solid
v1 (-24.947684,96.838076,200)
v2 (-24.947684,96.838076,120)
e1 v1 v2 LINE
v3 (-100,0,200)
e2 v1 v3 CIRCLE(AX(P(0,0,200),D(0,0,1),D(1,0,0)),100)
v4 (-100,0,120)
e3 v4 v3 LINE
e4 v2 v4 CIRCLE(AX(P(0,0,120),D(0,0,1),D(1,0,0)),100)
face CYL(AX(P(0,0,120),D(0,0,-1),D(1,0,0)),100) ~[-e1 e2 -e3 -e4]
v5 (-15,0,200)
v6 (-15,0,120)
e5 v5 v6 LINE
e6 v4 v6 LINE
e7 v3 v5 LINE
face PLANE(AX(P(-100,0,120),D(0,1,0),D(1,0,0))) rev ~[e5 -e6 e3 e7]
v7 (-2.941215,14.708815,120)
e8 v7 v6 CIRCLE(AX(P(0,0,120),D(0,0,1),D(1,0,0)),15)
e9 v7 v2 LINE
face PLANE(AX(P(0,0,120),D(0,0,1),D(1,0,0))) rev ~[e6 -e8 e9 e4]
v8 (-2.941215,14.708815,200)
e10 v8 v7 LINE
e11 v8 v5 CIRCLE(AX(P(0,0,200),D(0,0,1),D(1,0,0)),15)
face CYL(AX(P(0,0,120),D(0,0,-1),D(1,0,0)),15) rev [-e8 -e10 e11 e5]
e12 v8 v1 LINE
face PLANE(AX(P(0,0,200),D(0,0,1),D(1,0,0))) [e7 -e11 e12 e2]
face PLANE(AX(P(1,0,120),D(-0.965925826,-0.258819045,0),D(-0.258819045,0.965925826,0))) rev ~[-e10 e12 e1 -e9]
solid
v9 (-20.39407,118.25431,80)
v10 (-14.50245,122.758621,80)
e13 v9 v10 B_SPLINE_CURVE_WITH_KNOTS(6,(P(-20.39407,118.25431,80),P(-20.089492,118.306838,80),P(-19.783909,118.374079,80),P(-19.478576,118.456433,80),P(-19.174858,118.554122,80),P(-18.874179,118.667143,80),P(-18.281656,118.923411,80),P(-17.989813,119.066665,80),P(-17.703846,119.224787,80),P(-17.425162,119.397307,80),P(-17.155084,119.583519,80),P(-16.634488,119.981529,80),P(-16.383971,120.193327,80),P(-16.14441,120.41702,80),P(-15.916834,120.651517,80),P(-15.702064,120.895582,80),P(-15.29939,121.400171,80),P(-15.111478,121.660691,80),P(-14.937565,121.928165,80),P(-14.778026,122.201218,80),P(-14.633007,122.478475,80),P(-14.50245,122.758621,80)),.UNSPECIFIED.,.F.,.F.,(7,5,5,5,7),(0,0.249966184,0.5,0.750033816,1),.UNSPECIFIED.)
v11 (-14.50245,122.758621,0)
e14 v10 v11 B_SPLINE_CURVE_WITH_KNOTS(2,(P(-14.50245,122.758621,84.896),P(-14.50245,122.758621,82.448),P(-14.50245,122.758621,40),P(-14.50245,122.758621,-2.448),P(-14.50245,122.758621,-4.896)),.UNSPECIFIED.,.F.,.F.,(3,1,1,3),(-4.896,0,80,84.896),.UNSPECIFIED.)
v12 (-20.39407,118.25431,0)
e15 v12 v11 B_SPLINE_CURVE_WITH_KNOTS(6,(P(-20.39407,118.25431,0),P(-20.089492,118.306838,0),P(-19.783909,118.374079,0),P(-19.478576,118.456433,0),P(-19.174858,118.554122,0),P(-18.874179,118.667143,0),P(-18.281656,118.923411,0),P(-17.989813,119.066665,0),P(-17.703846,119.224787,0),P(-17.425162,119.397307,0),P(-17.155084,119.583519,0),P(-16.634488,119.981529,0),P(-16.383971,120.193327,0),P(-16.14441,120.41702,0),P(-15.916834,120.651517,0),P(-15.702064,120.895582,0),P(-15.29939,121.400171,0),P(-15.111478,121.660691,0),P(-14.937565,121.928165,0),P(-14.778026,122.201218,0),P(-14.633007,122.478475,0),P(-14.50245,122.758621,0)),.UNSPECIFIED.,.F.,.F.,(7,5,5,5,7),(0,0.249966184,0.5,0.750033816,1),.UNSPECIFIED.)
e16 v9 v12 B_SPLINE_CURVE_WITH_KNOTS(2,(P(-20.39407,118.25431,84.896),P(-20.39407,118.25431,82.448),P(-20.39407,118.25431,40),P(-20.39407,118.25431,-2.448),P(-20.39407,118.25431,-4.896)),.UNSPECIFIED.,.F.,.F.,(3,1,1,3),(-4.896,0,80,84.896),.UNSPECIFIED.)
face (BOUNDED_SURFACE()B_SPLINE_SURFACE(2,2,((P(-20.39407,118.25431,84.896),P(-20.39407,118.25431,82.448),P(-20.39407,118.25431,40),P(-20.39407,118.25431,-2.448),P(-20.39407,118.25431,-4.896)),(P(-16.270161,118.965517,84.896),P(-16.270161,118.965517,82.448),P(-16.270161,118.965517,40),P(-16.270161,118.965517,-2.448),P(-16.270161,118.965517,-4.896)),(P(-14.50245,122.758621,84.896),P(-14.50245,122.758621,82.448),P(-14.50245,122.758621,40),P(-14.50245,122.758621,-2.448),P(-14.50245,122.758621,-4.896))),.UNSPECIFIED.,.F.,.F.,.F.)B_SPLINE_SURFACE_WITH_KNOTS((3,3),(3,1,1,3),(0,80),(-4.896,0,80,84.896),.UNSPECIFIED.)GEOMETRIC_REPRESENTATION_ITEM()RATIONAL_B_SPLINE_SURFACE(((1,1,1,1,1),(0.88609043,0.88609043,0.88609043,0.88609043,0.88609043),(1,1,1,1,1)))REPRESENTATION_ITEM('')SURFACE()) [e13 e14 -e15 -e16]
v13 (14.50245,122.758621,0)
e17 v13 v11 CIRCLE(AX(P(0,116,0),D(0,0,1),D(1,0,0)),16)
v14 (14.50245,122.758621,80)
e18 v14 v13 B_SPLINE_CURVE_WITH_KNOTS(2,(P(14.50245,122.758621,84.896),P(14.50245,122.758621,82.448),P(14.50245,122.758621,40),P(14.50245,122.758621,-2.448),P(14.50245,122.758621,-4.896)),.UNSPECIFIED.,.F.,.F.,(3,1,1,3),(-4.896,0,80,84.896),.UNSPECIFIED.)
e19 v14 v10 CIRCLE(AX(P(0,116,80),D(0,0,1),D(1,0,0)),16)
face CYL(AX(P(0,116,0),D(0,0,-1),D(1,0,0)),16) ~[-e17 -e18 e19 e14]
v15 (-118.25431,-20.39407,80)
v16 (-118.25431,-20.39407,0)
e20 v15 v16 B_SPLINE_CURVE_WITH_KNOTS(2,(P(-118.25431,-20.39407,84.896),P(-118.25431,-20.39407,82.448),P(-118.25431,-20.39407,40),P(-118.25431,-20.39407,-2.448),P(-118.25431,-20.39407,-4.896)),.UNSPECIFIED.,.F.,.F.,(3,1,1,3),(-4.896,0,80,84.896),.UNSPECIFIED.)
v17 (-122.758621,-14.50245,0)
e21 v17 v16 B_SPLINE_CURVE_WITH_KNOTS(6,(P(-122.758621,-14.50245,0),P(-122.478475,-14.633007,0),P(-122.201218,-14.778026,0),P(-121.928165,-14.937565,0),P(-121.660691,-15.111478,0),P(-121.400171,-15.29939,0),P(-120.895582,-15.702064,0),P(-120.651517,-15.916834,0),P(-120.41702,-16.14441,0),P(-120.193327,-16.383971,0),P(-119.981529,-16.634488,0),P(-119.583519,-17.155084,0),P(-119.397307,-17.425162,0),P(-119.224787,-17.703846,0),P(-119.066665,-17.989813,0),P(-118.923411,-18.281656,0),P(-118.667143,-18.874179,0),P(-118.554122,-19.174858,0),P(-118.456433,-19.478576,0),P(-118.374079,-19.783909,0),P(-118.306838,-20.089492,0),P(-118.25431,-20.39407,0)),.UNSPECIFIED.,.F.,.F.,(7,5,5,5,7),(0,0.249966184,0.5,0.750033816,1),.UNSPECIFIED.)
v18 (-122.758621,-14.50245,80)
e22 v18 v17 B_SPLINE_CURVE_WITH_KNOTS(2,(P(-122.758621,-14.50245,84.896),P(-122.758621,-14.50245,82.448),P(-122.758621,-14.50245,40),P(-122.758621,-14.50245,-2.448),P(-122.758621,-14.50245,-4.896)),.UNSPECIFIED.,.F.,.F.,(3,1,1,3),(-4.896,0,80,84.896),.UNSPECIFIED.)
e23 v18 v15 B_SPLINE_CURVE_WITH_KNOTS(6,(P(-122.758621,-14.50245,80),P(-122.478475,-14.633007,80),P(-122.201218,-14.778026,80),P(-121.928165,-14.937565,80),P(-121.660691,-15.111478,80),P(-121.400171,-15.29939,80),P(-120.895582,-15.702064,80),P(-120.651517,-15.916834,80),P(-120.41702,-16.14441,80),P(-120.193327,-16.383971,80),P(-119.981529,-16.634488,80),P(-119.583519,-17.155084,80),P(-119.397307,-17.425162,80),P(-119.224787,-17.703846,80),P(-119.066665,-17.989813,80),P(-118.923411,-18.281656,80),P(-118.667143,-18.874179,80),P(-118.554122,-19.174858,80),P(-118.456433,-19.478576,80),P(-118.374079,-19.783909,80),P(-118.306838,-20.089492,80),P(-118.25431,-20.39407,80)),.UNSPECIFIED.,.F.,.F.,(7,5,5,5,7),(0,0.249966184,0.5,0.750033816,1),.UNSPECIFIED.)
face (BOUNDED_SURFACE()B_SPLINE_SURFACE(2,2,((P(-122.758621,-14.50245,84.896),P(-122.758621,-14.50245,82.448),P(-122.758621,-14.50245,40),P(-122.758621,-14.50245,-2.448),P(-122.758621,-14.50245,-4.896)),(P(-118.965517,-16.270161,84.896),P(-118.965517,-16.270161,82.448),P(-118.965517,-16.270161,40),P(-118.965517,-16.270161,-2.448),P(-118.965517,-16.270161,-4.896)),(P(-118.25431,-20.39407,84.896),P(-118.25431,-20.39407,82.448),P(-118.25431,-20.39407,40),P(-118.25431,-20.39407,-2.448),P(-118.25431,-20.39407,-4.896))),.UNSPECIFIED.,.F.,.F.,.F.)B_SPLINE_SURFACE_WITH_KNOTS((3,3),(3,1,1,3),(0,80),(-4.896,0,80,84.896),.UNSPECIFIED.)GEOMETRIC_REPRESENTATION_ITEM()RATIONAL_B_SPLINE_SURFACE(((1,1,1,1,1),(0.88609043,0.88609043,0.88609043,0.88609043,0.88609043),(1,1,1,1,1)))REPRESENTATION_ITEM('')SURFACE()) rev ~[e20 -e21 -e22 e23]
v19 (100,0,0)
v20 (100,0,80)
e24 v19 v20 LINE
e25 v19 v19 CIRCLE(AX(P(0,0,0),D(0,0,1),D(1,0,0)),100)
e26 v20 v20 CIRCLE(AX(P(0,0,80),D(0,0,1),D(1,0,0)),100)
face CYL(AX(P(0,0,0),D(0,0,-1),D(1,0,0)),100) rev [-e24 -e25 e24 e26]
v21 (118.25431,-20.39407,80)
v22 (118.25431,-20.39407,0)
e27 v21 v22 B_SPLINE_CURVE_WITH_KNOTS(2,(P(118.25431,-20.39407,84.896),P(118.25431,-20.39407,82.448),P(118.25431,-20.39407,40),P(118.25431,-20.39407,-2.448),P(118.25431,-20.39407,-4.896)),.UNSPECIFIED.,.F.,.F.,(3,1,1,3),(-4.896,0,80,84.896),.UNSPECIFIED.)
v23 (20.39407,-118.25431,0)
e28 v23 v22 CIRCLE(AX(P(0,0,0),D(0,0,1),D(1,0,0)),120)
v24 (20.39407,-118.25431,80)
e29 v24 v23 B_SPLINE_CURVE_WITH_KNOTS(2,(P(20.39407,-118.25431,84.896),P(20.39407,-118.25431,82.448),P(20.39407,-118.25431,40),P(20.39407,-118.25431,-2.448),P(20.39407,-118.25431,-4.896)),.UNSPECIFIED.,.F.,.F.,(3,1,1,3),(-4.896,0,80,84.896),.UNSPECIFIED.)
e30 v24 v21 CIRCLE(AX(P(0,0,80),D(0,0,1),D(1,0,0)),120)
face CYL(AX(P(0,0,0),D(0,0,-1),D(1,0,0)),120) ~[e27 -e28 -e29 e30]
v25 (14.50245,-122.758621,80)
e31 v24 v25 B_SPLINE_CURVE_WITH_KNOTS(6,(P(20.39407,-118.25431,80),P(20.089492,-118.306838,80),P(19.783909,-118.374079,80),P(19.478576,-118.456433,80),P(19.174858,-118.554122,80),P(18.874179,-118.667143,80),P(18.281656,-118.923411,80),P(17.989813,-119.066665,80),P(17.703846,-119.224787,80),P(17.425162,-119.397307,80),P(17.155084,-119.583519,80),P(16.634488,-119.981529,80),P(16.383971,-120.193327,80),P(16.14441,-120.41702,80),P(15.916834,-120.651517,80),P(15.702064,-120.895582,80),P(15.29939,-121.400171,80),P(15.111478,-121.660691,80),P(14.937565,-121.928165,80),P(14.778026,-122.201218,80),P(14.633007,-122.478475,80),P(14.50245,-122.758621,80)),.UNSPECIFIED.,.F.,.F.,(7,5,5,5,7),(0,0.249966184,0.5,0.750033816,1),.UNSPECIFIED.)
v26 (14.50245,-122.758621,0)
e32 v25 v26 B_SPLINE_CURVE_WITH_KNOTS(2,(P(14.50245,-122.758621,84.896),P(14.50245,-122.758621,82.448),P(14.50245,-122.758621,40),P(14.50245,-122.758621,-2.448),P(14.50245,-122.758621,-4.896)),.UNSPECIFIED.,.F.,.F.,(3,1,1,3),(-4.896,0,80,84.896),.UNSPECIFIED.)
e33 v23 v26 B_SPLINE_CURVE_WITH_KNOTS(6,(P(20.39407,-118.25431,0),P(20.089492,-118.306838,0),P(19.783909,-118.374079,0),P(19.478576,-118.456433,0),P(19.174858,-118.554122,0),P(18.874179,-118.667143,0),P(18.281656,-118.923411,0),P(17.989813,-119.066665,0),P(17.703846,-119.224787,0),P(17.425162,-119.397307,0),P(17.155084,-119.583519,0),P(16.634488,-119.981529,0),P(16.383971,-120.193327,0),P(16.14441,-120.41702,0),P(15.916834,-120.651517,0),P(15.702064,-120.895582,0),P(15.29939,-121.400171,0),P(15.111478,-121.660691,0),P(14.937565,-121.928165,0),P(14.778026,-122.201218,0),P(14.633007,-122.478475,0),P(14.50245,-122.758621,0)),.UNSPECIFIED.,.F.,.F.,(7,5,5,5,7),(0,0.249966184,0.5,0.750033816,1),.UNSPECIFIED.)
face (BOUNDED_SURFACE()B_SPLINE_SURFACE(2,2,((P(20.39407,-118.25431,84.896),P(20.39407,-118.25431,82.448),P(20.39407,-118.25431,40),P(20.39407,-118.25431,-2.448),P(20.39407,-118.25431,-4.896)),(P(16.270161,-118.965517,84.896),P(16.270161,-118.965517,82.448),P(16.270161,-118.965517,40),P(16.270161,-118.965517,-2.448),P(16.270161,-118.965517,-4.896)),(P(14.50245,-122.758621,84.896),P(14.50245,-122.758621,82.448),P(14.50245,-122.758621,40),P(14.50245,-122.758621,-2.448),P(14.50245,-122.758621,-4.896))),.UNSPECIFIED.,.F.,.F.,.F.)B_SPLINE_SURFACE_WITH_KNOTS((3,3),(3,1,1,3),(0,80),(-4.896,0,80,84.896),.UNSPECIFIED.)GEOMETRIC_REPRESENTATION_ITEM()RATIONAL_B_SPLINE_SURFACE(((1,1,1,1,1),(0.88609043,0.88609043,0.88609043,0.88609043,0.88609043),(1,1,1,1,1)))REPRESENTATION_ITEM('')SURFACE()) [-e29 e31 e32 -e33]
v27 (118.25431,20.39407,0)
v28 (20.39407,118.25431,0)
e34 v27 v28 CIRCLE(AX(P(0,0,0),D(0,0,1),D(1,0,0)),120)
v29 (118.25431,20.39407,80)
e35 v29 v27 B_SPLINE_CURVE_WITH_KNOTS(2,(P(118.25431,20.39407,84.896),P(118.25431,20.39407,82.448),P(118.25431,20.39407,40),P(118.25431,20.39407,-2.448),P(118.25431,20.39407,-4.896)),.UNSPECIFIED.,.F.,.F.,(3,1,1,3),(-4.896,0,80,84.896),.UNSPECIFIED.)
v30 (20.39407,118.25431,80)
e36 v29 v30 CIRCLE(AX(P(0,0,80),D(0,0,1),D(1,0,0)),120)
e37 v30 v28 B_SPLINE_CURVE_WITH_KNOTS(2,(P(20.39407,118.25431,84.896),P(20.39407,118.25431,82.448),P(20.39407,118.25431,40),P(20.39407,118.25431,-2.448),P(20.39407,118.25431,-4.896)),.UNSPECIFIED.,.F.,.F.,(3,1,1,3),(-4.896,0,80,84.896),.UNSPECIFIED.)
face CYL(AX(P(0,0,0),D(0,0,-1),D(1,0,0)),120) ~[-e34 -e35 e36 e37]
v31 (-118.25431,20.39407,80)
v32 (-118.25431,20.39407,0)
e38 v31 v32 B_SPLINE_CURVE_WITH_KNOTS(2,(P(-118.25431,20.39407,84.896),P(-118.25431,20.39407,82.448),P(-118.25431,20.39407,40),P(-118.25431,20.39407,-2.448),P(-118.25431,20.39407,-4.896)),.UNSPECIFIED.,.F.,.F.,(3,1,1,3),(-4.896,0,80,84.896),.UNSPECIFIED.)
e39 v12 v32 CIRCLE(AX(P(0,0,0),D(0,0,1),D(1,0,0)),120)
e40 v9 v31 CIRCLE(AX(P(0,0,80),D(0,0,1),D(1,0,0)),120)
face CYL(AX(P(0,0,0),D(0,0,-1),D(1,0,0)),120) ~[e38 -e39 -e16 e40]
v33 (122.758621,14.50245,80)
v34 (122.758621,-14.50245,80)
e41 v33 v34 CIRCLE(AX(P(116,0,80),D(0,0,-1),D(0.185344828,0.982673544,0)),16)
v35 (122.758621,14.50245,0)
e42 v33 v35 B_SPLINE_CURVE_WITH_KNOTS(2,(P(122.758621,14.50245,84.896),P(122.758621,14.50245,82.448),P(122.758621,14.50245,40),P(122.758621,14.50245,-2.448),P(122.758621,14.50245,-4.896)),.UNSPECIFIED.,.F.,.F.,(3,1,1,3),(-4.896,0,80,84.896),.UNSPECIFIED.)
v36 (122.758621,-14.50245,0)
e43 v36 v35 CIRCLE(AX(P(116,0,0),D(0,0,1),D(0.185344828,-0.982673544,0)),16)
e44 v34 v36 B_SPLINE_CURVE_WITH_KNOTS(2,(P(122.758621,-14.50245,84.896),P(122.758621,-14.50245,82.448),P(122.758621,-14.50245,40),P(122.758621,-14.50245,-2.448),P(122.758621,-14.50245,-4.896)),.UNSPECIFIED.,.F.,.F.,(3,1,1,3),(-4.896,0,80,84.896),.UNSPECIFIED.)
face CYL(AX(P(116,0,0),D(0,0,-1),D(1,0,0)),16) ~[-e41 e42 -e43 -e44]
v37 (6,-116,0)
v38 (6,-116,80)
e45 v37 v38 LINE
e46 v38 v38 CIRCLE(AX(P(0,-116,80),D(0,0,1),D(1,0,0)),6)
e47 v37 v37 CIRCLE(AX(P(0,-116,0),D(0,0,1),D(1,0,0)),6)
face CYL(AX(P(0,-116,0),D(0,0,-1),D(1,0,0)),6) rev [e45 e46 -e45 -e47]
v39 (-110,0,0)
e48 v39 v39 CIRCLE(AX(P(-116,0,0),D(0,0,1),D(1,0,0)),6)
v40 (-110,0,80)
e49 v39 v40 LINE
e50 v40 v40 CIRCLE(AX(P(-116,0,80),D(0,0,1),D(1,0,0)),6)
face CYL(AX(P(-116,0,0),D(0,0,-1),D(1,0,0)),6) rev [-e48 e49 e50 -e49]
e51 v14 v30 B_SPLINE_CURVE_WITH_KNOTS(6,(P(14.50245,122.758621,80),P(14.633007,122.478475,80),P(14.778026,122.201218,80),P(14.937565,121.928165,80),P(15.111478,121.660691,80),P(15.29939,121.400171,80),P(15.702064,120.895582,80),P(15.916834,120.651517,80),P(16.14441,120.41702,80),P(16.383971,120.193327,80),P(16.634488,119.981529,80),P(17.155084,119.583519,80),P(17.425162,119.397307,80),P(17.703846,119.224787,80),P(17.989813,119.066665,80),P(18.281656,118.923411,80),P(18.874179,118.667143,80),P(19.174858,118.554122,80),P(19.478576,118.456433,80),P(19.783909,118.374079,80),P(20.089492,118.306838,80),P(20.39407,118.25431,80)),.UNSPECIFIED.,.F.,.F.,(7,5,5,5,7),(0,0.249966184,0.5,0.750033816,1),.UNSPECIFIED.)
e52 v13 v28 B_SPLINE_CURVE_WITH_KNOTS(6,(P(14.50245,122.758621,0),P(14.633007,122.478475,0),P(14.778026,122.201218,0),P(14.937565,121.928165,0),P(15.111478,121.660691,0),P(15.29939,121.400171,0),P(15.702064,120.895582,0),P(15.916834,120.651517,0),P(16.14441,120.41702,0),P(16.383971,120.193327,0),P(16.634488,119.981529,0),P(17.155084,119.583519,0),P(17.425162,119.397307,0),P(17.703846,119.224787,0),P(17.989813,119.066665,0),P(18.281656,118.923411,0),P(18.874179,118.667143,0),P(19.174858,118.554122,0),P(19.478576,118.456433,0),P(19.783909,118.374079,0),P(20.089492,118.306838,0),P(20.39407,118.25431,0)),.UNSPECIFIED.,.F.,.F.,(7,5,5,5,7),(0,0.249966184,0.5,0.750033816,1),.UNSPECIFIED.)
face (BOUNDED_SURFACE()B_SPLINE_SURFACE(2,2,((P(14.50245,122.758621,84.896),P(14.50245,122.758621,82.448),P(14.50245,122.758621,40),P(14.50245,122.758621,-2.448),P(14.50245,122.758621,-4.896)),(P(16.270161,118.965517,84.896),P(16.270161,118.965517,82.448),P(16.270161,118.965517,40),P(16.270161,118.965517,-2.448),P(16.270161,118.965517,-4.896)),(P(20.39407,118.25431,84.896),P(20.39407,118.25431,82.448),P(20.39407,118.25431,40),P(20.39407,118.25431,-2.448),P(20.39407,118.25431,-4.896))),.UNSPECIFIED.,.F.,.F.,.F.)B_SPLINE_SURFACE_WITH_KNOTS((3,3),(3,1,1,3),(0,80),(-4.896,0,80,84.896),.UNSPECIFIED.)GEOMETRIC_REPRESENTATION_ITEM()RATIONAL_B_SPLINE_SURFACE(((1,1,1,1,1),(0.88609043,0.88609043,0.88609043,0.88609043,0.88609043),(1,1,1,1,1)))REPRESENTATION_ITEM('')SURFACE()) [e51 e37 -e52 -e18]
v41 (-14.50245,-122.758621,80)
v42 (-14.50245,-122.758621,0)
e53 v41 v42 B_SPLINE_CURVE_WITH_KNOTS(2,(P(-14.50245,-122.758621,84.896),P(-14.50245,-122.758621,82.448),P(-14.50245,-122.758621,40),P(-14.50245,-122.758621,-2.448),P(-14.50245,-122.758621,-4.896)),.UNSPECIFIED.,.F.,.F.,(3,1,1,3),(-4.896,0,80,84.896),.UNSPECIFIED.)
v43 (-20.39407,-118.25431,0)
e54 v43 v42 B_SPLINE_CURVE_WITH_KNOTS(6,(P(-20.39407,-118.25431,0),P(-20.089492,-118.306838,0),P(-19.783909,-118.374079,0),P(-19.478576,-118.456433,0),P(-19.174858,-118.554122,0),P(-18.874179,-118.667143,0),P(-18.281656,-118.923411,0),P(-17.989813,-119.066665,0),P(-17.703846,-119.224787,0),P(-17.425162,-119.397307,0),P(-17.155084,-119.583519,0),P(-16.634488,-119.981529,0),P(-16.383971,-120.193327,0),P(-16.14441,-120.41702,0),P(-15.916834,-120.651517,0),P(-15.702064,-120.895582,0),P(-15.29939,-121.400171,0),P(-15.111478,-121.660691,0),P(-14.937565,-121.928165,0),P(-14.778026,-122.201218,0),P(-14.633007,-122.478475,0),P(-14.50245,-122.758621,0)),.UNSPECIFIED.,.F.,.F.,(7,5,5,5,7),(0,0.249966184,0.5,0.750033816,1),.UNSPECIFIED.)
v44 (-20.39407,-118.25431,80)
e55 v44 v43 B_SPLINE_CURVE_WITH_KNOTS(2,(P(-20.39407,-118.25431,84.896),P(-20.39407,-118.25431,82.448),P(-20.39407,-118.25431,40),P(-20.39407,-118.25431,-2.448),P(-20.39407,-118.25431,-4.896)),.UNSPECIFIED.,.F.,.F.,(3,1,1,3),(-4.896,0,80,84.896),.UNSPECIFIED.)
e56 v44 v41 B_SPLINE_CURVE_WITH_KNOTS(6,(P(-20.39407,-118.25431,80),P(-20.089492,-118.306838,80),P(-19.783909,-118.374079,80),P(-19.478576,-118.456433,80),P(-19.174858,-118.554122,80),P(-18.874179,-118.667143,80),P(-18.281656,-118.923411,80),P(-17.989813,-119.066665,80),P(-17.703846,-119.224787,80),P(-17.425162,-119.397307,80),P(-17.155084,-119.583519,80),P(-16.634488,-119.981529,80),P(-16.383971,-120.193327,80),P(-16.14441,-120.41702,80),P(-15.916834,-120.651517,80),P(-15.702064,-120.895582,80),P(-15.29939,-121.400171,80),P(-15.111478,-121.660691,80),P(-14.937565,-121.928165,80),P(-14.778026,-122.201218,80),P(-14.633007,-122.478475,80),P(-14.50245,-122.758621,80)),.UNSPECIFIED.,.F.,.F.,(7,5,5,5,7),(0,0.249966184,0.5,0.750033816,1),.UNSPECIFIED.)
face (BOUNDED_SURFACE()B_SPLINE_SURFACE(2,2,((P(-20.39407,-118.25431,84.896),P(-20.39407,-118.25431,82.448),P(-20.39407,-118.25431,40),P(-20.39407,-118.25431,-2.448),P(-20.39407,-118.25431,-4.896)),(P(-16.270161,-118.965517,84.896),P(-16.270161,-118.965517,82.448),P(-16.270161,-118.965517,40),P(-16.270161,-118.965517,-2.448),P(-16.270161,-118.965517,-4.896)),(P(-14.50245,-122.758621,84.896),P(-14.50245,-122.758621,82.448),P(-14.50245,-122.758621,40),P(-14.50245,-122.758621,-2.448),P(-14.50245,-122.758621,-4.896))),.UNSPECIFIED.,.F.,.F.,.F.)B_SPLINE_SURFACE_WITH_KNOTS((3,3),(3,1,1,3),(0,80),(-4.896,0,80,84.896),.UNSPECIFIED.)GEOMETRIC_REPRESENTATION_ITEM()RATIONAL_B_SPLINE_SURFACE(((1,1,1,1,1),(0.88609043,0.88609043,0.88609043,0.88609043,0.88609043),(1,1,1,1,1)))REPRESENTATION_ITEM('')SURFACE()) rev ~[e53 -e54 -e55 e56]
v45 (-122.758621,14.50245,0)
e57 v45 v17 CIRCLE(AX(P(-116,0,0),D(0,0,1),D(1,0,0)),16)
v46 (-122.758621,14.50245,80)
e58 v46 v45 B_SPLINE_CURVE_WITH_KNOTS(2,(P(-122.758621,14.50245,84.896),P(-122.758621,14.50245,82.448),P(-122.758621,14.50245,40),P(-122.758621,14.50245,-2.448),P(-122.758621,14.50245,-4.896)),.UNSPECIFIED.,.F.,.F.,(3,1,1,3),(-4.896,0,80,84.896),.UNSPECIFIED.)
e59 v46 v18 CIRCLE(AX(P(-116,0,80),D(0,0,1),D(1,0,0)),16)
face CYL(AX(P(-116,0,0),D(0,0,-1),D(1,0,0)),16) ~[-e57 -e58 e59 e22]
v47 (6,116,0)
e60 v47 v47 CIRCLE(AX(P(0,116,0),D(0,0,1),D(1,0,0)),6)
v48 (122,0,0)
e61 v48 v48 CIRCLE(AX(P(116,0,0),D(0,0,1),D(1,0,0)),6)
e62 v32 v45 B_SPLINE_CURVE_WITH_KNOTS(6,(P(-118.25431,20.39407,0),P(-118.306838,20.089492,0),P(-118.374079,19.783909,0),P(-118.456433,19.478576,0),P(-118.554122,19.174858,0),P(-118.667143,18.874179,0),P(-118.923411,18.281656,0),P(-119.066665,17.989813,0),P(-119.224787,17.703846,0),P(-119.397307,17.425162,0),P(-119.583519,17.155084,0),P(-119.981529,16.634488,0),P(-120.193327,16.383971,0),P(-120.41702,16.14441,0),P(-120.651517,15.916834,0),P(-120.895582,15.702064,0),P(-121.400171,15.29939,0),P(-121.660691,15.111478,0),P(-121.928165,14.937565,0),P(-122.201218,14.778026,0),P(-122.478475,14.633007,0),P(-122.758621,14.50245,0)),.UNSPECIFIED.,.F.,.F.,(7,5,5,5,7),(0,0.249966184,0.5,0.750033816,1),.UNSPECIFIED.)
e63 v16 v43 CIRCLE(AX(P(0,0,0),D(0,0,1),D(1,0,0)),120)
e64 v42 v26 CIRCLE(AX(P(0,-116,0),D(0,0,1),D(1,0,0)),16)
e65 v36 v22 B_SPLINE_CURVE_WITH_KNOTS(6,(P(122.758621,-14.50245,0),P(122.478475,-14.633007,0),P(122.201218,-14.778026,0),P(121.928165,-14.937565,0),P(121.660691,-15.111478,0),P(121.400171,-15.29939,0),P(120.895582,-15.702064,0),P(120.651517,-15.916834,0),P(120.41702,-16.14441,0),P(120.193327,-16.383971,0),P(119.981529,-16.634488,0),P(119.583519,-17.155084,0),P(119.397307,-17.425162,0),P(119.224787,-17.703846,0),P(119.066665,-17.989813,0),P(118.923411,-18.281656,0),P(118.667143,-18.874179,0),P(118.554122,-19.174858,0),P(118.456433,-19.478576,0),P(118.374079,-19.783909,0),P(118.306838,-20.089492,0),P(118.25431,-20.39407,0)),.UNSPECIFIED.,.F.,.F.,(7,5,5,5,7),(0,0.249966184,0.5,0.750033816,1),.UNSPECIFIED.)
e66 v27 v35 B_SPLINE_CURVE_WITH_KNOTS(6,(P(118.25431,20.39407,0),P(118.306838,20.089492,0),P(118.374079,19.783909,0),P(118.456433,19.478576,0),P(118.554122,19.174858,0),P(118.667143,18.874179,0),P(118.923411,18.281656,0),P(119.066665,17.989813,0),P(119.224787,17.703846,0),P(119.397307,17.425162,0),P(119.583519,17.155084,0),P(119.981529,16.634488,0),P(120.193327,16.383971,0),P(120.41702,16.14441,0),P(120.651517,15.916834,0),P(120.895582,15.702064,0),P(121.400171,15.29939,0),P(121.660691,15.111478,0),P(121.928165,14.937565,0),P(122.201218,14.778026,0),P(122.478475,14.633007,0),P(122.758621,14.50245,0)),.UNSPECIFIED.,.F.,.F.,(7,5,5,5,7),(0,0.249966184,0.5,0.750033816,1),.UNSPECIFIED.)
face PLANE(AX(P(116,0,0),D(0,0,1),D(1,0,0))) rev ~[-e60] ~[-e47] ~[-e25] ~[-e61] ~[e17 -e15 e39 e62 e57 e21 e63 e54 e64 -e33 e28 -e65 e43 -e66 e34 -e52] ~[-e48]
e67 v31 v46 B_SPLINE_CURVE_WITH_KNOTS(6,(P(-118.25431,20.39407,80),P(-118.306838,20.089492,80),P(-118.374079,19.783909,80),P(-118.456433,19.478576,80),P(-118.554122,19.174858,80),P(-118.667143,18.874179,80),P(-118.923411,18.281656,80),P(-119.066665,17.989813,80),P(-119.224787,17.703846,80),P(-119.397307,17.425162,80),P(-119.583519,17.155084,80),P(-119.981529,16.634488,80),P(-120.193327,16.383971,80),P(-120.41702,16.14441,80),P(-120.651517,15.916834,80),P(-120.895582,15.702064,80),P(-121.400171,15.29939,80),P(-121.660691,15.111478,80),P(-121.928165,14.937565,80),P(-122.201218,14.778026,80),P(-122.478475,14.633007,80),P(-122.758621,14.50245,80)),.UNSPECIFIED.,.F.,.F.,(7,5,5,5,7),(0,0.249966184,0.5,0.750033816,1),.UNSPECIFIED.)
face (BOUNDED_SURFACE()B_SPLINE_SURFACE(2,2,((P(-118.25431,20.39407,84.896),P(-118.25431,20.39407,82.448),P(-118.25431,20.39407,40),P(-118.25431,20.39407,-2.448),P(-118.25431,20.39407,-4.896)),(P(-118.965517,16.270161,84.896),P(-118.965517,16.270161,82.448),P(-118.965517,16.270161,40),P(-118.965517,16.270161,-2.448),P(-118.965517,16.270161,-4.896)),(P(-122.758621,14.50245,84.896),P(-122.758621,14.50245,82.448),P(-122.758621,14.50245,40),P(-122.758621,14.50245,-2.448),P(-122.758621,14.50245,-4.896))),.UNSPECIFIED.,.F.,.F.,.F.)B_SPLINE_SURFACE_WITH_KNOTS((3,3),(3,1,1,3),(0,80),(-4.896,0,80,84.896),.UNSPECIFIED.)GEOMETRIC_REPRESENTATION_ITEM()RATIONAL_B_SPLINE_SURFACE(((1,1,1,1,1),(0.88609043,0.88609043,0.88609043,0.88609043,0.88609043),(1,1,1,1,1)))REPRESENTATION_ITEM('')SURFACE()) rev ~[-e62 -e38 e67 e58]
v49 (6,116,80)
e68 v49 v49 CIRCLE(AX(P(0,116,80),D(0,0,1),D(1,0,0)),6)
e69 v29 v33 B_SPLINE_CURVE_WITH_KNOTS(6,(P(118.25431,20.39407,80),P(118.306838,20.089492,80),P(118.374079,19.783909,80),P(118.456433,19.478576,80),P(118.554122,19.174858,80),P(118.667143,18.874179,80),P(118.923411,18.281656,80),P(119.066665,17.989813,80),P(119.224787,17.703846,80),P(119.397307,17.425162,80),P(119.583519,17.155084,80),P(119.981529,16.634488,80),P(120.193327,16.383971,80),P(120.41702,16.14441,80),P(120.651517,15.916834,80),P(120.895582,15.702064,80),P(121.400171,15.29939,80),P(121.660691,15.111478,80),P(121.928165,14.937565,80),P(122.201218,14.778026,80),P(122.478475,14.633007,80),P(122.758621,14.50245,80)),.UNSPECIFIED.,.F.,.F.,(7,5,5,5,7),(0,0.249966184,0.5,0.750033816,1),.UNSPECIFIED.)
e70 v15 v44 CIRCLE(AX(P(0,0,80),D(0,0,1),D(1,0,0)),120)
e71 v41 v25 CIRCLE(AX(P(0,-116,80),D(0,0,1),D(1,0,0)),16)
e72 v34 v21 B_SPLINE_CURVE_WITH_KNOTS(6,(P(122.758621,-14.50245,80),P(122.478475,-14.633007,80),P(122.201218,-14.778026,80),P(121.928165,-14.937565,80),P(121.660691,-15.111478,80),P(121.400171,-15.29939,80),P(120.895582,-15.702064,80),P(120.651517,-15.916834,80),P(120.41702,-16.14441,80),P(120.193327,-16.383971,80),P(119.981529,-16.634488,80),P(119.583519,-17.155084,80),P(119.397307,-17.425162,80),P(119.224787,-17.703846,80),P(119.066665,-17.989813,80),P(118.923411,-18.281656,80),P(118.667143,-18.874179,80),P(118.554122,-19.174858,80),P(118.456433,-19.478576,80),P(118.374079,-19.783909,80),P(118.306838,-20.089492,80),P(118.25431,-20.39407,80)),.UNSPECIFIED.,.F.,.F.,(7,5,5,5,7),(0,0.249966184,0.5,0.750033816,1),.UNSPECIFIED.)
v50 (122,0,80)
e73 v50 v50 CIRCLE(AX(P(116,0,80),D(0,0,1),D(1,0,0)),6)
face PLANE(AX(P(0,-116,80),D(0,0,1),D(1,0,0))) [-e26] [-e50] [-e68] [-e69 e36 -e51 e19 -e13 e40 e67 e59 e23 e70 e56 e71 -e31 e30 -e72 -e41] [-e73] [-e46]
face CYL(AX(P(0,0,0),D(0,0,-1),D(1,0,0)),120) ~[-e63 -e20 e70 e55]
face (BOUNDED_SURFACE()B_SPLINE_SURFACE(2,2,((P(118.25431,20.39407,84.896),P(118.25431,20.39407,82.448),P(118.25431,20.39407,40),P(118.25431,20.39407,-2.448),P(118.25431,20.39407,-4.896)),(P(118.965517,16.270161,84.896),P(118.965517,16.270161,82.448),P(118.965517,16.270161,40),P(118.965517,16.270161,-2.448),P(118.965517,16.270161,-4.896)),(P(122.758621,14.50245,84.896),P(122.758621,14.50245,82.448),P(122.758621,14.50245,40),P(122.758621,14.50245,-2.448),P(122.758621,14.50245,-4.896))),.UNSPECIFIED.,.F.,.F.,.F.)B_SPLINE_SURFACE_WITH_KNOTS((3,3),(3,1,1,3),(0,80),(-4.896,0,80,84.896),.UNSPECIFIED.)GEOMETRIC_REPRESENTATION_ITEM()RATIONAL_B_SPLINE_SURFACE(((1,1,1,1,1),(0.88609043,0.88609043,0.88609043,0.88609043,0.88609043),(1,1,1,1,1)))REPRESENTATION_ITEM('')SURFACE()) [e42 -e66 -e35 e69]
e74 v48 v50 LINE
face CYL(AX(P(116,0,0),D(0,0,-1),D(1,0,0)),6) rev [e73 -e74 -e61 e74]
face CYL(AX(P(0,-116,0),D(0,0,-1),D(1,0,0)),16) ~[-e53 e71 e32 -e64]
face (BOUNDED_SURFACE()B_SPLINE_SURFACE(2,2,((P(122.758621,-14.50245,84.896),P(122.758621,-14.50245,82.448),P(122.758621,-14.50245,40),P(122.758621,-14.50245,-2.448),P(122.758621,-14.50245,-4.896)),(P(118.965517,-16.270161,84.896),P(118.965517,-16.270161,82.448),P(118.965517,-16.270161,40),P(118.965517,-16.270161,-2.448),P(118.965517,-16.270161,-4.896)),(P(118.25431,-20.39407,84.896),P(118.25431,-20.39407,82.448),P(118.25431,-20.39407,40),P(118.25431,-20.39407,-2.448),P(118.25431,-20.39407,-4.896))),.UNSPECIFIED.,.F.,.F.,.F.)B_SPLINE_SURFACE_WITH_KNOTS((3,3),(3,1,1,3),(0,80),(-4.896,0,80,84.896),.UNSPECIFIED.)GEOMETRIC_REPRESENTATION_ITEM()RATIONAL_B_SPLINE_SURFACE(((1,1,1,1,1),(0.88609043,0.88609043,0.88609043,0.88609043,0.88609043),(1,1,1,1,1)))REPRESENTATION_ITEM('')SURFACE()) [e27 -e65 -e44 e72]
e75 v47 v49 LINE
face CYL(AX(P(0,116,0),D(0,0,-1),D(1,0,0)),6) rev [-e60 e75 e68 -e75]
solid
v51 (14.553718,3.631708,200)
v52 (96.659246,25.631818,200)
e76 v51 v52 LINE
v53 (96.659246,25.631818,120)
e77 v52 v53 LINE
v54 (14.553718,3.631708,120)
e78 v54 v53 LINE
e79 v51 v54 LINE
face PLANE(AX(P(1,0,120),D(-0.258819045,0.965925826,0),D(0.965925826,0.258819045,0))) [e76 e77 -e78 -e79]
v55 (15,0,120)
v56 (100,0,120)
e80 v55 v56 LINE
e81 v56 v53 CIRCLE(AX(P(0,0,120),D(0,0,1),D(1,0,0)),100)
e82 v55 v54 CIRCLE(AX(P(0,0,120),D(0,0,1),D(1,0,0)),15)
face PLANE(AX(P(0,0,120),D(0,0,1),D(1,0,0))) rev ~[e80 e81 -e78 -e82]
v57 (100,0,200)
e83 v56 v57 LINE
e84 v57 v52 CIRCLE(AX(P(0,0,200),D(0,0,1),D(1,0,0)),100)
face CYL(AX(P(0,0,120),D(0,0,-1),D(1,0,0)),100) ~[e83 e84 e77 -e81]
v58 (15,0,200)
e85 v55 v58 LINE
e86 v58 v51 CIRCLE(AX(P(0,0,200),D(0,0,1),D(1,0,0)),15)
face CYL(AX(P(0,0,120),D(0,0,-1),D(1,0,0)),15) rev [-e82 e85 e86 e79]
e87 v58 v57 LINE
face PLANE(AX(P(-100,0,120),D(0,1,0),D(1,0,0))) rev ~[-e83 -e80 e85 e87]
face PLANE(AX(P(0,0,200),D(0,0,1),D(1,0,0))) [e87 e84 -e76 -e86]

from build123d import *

# Parameters (mm, degrees)
CYLINDER006_R       = 6
CYLINDER006_DEPTH   = 80
CYLINDER007_R       = 6
CYLINDER007_DEPTH   = 80
CYLINDER008_R       = 6
CYLINDER008_DEPTH   = 80
CYLINDER009_R       = 6
CYLINDER009_DEPTH   = 80
CYLINDER002_R       = 16
CYLINDER002_DEPTH   = 80
CYLINDER003_R       = 16
CYLINDER003_DEPTH   = 80
CYLINDER004_R       = 16
CYLINDER004_DEPTH   = 80
CYLINDER005_R       = 16
CYLINDER005_DEPTH   = 80
CYLINDER001_R       = 100
CYLINDER001_DEPTH   = 200
CYLINDER_R          = 120
CYLINDER_DEPTH      = 80
FILLET_R            = 8
FILLET001_R         = 8
FILLET002_R         = 8
BOX_W               = 400
BOX_H               = 200
BOX_DEPTH           = 80
BOX_PLACEMENT_ANGLE = 15
BOX001_W            = 200
BOX001_H            = 200
BOX001_DEPTH        = 80
TUBE_R              = 100
TUBE_R_2            = 15
TUBE_DEPTH          = 80


with BuildPart() as walec006:
    # Cylinder006 → Cylinder006 (new body)
    with BuildSketch(Plane(origin=(116, 0, 0), x_dir=(1, 0, 0), z_dir=(0, 0, 1))):
        Circle(CYLINDER006_R)
    extrude(amount=CYLINDER006_DEPTH)


with BuildPart() as walec007:
    # Cylinder007 → Cylinder007 (new body)
    with BuildSketch(Plane(origin=(-116, 0, 0), x_dir=(1, 0, 0), z_dir=(0, 0, 1))):
        Circle(CYLINDER007_R)
    extrude(amount=CYLINDER007_DEPTH)


with BuildPart() as walec008:
    # Cylinder008 → Cylinder008 (new body)
    with BuildSketch(Plane(origin=(0, 116, 0), x_dir=(1, 0, 0), z_dir=(0, 0, 1))):
        Circle(CYLINDER008_R)
    extrude(amount=CYLINDER008_DEPTH)


with BuildPart() as walec009:
    # Cylinder009 → Cylinder009 (new body)
    with BuildSketch(Plane(origin=(0, -116, 0), x_dir=(1, 0, 0), z_dir=(0, 0, 1))):
        Circle(CYLINDER009_R)
    extrude(amount=CYLINDER009_DEPTH)


with BuildPart() as walec002:
    # Cylinder002 → Cylinder002 (new body)
    with BuildSketch(Plane(origin=(116, 0, 0), x_dir=(1, 0, 0), z_dir=(0, 0, 1))):
        Circle(CYLINDER002_R)
    extrude(amount=CYLINDER002_DEPTH)


with BuildPart() as walec003:
    # Cylinder003 → Cylinder003 (new body)
    with BuildSketch(Plane(origin=(-116, 0, 0), x_dir=(1, 0, 0), z_dir=(0, 0, 1))):
        Circle(CYLINDER003_R)
    extrude(amount=CYLINDER003_DEPTH)


with BuildPart() as walec004:
    # Cylinder004 → Cylinder004 (new body)
    with BuildSketch(Plane(origin=(0, 116, 0), x_dir=(1, 0, 0), z_dir=(0, 0, 1))):
        Circle(CYLINDER004_R)
    extrude(amount=CYLINDER004_DEPTH)


with BuildPart() as walec005:
    # Cylinder005 → Cylinder005 (new body)
    with BuildSketch(Plane(origin=(0, -116, 0), x_dir=(1, 0, 0), z_dir=(0, 0, 1))):
        Circle(CYLINDER005_R)
    extrude(amount=CYLINDER005_DEPTH)


with BuildPart() as walec001:
    # Cylinder001 → Cylinder001 (new body)
    with BuildSketch(Plane.XY):
        Circle(CYLINDER001_R)
    extrude(amount=CYLINDER001_DEPTH)


with BuildPart() as fillet002:
    # Cylinder → Cylinder (new body)
    with BuildSketch(Plane.XY):
        Circle(CYLINDER_R)
    extrude(amount=CYLINDER_DEPTH)

    # Cut: cut Walec001
    add(walec001.part, mode=Mode.SUBTRACT)

    # Fusion: union Walec002, Walec003, Walec004, Walec005
    add(walec002.part)
    add(walec003.part)
    add(walec004.part)
    add(walec005.part)

    # Cut001: cut Walec009
    add(walec009.part, mode=Mode.SUBTRACT)

    # Cut002: cut Walec008
    add(walec008.part, mode=Mode.SUBTRACT)

    # Cut003: cut Walec007
    add(walec007.part, mode=Mode.SUBTRACT)

    # Cut004: cut Walec006
    add(walec006.part, mode=Mode.SUBTRACT)

    # Fillet
    fillet_edges = [fillet002.edges().sort_by_distance(p)[0] for p in [
        (-15.722777, 118.965517, 40),
    ]]
    fillet(fillet_edges, radius=FILLET_R)

    # Fillet001
    fillet001_edges = [fillet002.edges().sort_by_distance(p)[0] for p in [
        (15.722777, 118.965517, 40),
    ]]
    fillet(fillet001_edges, radius=FILLET001_R)

    # Fillet002
    fillet002_edges = [fillet002.edges().sort_by_distance(p)[0] for p in [
        (118.965517, 15.722777, 40),
        (-118.965517, 15.722777, 40),
        (118.965517, -15.722777, 40),
        (-118.965517, -15.722777, 40),
        (-15.722777, -118.965517, 40),
        (15.722777, -118.965517, 40),
    ]]
    fillet(fillet002_edges, radius=FILLET002_R)


with BuildPart() as sze_cian:
    # Box → Box (new body)
    with BuildSketch(Plane.XY):
        with Locations((200, 100)):
            Rectangle(BOX_W, BOX_H)
    extrude(amount=BOX_DEPTH)


with BuildPart() as sze_cian_1:
    # Box placement: moved
    add(sze_cian.part.moved(Location((1, 0, 120))).rotate(Axis((1, 0, 120), (0, 0, 1)), BOX_PLACEMENT_ANGLE))


with BuildPart() as sze_cian001:
    # Box001 → Box001 (new body)
    with BuildSketch(Plane(origin=(-100, -200, 120), x_dir=(1, 0, 0), z_dir=(0, 0, 1))):
        with Locations((100, 100)):
            Rectangle(BOX001_W, BOX001_H)
    extrude(amount=BOX001_DEPTH)


with BuildPart() as cut006:
    # Tube → Tube (new body)
    with BuildSketch(Plane.XY.offset(120)):
        Circle(TUBE_R)
        Circle(TUBE_R_2, mode=Mode.SUBTRACT)
    extrude(amount=TUBE_DEPTH)

    # Cut005: cut Sześcian001
    add(sze_cian001.part, mode=Mode.SUBTRACT)

    # Cut006: cut Sześcian
    add(sze_cian_1.part, mode=Mode.SUBTRACT)


solid = Compound([fillet002.part, cut006.part])
